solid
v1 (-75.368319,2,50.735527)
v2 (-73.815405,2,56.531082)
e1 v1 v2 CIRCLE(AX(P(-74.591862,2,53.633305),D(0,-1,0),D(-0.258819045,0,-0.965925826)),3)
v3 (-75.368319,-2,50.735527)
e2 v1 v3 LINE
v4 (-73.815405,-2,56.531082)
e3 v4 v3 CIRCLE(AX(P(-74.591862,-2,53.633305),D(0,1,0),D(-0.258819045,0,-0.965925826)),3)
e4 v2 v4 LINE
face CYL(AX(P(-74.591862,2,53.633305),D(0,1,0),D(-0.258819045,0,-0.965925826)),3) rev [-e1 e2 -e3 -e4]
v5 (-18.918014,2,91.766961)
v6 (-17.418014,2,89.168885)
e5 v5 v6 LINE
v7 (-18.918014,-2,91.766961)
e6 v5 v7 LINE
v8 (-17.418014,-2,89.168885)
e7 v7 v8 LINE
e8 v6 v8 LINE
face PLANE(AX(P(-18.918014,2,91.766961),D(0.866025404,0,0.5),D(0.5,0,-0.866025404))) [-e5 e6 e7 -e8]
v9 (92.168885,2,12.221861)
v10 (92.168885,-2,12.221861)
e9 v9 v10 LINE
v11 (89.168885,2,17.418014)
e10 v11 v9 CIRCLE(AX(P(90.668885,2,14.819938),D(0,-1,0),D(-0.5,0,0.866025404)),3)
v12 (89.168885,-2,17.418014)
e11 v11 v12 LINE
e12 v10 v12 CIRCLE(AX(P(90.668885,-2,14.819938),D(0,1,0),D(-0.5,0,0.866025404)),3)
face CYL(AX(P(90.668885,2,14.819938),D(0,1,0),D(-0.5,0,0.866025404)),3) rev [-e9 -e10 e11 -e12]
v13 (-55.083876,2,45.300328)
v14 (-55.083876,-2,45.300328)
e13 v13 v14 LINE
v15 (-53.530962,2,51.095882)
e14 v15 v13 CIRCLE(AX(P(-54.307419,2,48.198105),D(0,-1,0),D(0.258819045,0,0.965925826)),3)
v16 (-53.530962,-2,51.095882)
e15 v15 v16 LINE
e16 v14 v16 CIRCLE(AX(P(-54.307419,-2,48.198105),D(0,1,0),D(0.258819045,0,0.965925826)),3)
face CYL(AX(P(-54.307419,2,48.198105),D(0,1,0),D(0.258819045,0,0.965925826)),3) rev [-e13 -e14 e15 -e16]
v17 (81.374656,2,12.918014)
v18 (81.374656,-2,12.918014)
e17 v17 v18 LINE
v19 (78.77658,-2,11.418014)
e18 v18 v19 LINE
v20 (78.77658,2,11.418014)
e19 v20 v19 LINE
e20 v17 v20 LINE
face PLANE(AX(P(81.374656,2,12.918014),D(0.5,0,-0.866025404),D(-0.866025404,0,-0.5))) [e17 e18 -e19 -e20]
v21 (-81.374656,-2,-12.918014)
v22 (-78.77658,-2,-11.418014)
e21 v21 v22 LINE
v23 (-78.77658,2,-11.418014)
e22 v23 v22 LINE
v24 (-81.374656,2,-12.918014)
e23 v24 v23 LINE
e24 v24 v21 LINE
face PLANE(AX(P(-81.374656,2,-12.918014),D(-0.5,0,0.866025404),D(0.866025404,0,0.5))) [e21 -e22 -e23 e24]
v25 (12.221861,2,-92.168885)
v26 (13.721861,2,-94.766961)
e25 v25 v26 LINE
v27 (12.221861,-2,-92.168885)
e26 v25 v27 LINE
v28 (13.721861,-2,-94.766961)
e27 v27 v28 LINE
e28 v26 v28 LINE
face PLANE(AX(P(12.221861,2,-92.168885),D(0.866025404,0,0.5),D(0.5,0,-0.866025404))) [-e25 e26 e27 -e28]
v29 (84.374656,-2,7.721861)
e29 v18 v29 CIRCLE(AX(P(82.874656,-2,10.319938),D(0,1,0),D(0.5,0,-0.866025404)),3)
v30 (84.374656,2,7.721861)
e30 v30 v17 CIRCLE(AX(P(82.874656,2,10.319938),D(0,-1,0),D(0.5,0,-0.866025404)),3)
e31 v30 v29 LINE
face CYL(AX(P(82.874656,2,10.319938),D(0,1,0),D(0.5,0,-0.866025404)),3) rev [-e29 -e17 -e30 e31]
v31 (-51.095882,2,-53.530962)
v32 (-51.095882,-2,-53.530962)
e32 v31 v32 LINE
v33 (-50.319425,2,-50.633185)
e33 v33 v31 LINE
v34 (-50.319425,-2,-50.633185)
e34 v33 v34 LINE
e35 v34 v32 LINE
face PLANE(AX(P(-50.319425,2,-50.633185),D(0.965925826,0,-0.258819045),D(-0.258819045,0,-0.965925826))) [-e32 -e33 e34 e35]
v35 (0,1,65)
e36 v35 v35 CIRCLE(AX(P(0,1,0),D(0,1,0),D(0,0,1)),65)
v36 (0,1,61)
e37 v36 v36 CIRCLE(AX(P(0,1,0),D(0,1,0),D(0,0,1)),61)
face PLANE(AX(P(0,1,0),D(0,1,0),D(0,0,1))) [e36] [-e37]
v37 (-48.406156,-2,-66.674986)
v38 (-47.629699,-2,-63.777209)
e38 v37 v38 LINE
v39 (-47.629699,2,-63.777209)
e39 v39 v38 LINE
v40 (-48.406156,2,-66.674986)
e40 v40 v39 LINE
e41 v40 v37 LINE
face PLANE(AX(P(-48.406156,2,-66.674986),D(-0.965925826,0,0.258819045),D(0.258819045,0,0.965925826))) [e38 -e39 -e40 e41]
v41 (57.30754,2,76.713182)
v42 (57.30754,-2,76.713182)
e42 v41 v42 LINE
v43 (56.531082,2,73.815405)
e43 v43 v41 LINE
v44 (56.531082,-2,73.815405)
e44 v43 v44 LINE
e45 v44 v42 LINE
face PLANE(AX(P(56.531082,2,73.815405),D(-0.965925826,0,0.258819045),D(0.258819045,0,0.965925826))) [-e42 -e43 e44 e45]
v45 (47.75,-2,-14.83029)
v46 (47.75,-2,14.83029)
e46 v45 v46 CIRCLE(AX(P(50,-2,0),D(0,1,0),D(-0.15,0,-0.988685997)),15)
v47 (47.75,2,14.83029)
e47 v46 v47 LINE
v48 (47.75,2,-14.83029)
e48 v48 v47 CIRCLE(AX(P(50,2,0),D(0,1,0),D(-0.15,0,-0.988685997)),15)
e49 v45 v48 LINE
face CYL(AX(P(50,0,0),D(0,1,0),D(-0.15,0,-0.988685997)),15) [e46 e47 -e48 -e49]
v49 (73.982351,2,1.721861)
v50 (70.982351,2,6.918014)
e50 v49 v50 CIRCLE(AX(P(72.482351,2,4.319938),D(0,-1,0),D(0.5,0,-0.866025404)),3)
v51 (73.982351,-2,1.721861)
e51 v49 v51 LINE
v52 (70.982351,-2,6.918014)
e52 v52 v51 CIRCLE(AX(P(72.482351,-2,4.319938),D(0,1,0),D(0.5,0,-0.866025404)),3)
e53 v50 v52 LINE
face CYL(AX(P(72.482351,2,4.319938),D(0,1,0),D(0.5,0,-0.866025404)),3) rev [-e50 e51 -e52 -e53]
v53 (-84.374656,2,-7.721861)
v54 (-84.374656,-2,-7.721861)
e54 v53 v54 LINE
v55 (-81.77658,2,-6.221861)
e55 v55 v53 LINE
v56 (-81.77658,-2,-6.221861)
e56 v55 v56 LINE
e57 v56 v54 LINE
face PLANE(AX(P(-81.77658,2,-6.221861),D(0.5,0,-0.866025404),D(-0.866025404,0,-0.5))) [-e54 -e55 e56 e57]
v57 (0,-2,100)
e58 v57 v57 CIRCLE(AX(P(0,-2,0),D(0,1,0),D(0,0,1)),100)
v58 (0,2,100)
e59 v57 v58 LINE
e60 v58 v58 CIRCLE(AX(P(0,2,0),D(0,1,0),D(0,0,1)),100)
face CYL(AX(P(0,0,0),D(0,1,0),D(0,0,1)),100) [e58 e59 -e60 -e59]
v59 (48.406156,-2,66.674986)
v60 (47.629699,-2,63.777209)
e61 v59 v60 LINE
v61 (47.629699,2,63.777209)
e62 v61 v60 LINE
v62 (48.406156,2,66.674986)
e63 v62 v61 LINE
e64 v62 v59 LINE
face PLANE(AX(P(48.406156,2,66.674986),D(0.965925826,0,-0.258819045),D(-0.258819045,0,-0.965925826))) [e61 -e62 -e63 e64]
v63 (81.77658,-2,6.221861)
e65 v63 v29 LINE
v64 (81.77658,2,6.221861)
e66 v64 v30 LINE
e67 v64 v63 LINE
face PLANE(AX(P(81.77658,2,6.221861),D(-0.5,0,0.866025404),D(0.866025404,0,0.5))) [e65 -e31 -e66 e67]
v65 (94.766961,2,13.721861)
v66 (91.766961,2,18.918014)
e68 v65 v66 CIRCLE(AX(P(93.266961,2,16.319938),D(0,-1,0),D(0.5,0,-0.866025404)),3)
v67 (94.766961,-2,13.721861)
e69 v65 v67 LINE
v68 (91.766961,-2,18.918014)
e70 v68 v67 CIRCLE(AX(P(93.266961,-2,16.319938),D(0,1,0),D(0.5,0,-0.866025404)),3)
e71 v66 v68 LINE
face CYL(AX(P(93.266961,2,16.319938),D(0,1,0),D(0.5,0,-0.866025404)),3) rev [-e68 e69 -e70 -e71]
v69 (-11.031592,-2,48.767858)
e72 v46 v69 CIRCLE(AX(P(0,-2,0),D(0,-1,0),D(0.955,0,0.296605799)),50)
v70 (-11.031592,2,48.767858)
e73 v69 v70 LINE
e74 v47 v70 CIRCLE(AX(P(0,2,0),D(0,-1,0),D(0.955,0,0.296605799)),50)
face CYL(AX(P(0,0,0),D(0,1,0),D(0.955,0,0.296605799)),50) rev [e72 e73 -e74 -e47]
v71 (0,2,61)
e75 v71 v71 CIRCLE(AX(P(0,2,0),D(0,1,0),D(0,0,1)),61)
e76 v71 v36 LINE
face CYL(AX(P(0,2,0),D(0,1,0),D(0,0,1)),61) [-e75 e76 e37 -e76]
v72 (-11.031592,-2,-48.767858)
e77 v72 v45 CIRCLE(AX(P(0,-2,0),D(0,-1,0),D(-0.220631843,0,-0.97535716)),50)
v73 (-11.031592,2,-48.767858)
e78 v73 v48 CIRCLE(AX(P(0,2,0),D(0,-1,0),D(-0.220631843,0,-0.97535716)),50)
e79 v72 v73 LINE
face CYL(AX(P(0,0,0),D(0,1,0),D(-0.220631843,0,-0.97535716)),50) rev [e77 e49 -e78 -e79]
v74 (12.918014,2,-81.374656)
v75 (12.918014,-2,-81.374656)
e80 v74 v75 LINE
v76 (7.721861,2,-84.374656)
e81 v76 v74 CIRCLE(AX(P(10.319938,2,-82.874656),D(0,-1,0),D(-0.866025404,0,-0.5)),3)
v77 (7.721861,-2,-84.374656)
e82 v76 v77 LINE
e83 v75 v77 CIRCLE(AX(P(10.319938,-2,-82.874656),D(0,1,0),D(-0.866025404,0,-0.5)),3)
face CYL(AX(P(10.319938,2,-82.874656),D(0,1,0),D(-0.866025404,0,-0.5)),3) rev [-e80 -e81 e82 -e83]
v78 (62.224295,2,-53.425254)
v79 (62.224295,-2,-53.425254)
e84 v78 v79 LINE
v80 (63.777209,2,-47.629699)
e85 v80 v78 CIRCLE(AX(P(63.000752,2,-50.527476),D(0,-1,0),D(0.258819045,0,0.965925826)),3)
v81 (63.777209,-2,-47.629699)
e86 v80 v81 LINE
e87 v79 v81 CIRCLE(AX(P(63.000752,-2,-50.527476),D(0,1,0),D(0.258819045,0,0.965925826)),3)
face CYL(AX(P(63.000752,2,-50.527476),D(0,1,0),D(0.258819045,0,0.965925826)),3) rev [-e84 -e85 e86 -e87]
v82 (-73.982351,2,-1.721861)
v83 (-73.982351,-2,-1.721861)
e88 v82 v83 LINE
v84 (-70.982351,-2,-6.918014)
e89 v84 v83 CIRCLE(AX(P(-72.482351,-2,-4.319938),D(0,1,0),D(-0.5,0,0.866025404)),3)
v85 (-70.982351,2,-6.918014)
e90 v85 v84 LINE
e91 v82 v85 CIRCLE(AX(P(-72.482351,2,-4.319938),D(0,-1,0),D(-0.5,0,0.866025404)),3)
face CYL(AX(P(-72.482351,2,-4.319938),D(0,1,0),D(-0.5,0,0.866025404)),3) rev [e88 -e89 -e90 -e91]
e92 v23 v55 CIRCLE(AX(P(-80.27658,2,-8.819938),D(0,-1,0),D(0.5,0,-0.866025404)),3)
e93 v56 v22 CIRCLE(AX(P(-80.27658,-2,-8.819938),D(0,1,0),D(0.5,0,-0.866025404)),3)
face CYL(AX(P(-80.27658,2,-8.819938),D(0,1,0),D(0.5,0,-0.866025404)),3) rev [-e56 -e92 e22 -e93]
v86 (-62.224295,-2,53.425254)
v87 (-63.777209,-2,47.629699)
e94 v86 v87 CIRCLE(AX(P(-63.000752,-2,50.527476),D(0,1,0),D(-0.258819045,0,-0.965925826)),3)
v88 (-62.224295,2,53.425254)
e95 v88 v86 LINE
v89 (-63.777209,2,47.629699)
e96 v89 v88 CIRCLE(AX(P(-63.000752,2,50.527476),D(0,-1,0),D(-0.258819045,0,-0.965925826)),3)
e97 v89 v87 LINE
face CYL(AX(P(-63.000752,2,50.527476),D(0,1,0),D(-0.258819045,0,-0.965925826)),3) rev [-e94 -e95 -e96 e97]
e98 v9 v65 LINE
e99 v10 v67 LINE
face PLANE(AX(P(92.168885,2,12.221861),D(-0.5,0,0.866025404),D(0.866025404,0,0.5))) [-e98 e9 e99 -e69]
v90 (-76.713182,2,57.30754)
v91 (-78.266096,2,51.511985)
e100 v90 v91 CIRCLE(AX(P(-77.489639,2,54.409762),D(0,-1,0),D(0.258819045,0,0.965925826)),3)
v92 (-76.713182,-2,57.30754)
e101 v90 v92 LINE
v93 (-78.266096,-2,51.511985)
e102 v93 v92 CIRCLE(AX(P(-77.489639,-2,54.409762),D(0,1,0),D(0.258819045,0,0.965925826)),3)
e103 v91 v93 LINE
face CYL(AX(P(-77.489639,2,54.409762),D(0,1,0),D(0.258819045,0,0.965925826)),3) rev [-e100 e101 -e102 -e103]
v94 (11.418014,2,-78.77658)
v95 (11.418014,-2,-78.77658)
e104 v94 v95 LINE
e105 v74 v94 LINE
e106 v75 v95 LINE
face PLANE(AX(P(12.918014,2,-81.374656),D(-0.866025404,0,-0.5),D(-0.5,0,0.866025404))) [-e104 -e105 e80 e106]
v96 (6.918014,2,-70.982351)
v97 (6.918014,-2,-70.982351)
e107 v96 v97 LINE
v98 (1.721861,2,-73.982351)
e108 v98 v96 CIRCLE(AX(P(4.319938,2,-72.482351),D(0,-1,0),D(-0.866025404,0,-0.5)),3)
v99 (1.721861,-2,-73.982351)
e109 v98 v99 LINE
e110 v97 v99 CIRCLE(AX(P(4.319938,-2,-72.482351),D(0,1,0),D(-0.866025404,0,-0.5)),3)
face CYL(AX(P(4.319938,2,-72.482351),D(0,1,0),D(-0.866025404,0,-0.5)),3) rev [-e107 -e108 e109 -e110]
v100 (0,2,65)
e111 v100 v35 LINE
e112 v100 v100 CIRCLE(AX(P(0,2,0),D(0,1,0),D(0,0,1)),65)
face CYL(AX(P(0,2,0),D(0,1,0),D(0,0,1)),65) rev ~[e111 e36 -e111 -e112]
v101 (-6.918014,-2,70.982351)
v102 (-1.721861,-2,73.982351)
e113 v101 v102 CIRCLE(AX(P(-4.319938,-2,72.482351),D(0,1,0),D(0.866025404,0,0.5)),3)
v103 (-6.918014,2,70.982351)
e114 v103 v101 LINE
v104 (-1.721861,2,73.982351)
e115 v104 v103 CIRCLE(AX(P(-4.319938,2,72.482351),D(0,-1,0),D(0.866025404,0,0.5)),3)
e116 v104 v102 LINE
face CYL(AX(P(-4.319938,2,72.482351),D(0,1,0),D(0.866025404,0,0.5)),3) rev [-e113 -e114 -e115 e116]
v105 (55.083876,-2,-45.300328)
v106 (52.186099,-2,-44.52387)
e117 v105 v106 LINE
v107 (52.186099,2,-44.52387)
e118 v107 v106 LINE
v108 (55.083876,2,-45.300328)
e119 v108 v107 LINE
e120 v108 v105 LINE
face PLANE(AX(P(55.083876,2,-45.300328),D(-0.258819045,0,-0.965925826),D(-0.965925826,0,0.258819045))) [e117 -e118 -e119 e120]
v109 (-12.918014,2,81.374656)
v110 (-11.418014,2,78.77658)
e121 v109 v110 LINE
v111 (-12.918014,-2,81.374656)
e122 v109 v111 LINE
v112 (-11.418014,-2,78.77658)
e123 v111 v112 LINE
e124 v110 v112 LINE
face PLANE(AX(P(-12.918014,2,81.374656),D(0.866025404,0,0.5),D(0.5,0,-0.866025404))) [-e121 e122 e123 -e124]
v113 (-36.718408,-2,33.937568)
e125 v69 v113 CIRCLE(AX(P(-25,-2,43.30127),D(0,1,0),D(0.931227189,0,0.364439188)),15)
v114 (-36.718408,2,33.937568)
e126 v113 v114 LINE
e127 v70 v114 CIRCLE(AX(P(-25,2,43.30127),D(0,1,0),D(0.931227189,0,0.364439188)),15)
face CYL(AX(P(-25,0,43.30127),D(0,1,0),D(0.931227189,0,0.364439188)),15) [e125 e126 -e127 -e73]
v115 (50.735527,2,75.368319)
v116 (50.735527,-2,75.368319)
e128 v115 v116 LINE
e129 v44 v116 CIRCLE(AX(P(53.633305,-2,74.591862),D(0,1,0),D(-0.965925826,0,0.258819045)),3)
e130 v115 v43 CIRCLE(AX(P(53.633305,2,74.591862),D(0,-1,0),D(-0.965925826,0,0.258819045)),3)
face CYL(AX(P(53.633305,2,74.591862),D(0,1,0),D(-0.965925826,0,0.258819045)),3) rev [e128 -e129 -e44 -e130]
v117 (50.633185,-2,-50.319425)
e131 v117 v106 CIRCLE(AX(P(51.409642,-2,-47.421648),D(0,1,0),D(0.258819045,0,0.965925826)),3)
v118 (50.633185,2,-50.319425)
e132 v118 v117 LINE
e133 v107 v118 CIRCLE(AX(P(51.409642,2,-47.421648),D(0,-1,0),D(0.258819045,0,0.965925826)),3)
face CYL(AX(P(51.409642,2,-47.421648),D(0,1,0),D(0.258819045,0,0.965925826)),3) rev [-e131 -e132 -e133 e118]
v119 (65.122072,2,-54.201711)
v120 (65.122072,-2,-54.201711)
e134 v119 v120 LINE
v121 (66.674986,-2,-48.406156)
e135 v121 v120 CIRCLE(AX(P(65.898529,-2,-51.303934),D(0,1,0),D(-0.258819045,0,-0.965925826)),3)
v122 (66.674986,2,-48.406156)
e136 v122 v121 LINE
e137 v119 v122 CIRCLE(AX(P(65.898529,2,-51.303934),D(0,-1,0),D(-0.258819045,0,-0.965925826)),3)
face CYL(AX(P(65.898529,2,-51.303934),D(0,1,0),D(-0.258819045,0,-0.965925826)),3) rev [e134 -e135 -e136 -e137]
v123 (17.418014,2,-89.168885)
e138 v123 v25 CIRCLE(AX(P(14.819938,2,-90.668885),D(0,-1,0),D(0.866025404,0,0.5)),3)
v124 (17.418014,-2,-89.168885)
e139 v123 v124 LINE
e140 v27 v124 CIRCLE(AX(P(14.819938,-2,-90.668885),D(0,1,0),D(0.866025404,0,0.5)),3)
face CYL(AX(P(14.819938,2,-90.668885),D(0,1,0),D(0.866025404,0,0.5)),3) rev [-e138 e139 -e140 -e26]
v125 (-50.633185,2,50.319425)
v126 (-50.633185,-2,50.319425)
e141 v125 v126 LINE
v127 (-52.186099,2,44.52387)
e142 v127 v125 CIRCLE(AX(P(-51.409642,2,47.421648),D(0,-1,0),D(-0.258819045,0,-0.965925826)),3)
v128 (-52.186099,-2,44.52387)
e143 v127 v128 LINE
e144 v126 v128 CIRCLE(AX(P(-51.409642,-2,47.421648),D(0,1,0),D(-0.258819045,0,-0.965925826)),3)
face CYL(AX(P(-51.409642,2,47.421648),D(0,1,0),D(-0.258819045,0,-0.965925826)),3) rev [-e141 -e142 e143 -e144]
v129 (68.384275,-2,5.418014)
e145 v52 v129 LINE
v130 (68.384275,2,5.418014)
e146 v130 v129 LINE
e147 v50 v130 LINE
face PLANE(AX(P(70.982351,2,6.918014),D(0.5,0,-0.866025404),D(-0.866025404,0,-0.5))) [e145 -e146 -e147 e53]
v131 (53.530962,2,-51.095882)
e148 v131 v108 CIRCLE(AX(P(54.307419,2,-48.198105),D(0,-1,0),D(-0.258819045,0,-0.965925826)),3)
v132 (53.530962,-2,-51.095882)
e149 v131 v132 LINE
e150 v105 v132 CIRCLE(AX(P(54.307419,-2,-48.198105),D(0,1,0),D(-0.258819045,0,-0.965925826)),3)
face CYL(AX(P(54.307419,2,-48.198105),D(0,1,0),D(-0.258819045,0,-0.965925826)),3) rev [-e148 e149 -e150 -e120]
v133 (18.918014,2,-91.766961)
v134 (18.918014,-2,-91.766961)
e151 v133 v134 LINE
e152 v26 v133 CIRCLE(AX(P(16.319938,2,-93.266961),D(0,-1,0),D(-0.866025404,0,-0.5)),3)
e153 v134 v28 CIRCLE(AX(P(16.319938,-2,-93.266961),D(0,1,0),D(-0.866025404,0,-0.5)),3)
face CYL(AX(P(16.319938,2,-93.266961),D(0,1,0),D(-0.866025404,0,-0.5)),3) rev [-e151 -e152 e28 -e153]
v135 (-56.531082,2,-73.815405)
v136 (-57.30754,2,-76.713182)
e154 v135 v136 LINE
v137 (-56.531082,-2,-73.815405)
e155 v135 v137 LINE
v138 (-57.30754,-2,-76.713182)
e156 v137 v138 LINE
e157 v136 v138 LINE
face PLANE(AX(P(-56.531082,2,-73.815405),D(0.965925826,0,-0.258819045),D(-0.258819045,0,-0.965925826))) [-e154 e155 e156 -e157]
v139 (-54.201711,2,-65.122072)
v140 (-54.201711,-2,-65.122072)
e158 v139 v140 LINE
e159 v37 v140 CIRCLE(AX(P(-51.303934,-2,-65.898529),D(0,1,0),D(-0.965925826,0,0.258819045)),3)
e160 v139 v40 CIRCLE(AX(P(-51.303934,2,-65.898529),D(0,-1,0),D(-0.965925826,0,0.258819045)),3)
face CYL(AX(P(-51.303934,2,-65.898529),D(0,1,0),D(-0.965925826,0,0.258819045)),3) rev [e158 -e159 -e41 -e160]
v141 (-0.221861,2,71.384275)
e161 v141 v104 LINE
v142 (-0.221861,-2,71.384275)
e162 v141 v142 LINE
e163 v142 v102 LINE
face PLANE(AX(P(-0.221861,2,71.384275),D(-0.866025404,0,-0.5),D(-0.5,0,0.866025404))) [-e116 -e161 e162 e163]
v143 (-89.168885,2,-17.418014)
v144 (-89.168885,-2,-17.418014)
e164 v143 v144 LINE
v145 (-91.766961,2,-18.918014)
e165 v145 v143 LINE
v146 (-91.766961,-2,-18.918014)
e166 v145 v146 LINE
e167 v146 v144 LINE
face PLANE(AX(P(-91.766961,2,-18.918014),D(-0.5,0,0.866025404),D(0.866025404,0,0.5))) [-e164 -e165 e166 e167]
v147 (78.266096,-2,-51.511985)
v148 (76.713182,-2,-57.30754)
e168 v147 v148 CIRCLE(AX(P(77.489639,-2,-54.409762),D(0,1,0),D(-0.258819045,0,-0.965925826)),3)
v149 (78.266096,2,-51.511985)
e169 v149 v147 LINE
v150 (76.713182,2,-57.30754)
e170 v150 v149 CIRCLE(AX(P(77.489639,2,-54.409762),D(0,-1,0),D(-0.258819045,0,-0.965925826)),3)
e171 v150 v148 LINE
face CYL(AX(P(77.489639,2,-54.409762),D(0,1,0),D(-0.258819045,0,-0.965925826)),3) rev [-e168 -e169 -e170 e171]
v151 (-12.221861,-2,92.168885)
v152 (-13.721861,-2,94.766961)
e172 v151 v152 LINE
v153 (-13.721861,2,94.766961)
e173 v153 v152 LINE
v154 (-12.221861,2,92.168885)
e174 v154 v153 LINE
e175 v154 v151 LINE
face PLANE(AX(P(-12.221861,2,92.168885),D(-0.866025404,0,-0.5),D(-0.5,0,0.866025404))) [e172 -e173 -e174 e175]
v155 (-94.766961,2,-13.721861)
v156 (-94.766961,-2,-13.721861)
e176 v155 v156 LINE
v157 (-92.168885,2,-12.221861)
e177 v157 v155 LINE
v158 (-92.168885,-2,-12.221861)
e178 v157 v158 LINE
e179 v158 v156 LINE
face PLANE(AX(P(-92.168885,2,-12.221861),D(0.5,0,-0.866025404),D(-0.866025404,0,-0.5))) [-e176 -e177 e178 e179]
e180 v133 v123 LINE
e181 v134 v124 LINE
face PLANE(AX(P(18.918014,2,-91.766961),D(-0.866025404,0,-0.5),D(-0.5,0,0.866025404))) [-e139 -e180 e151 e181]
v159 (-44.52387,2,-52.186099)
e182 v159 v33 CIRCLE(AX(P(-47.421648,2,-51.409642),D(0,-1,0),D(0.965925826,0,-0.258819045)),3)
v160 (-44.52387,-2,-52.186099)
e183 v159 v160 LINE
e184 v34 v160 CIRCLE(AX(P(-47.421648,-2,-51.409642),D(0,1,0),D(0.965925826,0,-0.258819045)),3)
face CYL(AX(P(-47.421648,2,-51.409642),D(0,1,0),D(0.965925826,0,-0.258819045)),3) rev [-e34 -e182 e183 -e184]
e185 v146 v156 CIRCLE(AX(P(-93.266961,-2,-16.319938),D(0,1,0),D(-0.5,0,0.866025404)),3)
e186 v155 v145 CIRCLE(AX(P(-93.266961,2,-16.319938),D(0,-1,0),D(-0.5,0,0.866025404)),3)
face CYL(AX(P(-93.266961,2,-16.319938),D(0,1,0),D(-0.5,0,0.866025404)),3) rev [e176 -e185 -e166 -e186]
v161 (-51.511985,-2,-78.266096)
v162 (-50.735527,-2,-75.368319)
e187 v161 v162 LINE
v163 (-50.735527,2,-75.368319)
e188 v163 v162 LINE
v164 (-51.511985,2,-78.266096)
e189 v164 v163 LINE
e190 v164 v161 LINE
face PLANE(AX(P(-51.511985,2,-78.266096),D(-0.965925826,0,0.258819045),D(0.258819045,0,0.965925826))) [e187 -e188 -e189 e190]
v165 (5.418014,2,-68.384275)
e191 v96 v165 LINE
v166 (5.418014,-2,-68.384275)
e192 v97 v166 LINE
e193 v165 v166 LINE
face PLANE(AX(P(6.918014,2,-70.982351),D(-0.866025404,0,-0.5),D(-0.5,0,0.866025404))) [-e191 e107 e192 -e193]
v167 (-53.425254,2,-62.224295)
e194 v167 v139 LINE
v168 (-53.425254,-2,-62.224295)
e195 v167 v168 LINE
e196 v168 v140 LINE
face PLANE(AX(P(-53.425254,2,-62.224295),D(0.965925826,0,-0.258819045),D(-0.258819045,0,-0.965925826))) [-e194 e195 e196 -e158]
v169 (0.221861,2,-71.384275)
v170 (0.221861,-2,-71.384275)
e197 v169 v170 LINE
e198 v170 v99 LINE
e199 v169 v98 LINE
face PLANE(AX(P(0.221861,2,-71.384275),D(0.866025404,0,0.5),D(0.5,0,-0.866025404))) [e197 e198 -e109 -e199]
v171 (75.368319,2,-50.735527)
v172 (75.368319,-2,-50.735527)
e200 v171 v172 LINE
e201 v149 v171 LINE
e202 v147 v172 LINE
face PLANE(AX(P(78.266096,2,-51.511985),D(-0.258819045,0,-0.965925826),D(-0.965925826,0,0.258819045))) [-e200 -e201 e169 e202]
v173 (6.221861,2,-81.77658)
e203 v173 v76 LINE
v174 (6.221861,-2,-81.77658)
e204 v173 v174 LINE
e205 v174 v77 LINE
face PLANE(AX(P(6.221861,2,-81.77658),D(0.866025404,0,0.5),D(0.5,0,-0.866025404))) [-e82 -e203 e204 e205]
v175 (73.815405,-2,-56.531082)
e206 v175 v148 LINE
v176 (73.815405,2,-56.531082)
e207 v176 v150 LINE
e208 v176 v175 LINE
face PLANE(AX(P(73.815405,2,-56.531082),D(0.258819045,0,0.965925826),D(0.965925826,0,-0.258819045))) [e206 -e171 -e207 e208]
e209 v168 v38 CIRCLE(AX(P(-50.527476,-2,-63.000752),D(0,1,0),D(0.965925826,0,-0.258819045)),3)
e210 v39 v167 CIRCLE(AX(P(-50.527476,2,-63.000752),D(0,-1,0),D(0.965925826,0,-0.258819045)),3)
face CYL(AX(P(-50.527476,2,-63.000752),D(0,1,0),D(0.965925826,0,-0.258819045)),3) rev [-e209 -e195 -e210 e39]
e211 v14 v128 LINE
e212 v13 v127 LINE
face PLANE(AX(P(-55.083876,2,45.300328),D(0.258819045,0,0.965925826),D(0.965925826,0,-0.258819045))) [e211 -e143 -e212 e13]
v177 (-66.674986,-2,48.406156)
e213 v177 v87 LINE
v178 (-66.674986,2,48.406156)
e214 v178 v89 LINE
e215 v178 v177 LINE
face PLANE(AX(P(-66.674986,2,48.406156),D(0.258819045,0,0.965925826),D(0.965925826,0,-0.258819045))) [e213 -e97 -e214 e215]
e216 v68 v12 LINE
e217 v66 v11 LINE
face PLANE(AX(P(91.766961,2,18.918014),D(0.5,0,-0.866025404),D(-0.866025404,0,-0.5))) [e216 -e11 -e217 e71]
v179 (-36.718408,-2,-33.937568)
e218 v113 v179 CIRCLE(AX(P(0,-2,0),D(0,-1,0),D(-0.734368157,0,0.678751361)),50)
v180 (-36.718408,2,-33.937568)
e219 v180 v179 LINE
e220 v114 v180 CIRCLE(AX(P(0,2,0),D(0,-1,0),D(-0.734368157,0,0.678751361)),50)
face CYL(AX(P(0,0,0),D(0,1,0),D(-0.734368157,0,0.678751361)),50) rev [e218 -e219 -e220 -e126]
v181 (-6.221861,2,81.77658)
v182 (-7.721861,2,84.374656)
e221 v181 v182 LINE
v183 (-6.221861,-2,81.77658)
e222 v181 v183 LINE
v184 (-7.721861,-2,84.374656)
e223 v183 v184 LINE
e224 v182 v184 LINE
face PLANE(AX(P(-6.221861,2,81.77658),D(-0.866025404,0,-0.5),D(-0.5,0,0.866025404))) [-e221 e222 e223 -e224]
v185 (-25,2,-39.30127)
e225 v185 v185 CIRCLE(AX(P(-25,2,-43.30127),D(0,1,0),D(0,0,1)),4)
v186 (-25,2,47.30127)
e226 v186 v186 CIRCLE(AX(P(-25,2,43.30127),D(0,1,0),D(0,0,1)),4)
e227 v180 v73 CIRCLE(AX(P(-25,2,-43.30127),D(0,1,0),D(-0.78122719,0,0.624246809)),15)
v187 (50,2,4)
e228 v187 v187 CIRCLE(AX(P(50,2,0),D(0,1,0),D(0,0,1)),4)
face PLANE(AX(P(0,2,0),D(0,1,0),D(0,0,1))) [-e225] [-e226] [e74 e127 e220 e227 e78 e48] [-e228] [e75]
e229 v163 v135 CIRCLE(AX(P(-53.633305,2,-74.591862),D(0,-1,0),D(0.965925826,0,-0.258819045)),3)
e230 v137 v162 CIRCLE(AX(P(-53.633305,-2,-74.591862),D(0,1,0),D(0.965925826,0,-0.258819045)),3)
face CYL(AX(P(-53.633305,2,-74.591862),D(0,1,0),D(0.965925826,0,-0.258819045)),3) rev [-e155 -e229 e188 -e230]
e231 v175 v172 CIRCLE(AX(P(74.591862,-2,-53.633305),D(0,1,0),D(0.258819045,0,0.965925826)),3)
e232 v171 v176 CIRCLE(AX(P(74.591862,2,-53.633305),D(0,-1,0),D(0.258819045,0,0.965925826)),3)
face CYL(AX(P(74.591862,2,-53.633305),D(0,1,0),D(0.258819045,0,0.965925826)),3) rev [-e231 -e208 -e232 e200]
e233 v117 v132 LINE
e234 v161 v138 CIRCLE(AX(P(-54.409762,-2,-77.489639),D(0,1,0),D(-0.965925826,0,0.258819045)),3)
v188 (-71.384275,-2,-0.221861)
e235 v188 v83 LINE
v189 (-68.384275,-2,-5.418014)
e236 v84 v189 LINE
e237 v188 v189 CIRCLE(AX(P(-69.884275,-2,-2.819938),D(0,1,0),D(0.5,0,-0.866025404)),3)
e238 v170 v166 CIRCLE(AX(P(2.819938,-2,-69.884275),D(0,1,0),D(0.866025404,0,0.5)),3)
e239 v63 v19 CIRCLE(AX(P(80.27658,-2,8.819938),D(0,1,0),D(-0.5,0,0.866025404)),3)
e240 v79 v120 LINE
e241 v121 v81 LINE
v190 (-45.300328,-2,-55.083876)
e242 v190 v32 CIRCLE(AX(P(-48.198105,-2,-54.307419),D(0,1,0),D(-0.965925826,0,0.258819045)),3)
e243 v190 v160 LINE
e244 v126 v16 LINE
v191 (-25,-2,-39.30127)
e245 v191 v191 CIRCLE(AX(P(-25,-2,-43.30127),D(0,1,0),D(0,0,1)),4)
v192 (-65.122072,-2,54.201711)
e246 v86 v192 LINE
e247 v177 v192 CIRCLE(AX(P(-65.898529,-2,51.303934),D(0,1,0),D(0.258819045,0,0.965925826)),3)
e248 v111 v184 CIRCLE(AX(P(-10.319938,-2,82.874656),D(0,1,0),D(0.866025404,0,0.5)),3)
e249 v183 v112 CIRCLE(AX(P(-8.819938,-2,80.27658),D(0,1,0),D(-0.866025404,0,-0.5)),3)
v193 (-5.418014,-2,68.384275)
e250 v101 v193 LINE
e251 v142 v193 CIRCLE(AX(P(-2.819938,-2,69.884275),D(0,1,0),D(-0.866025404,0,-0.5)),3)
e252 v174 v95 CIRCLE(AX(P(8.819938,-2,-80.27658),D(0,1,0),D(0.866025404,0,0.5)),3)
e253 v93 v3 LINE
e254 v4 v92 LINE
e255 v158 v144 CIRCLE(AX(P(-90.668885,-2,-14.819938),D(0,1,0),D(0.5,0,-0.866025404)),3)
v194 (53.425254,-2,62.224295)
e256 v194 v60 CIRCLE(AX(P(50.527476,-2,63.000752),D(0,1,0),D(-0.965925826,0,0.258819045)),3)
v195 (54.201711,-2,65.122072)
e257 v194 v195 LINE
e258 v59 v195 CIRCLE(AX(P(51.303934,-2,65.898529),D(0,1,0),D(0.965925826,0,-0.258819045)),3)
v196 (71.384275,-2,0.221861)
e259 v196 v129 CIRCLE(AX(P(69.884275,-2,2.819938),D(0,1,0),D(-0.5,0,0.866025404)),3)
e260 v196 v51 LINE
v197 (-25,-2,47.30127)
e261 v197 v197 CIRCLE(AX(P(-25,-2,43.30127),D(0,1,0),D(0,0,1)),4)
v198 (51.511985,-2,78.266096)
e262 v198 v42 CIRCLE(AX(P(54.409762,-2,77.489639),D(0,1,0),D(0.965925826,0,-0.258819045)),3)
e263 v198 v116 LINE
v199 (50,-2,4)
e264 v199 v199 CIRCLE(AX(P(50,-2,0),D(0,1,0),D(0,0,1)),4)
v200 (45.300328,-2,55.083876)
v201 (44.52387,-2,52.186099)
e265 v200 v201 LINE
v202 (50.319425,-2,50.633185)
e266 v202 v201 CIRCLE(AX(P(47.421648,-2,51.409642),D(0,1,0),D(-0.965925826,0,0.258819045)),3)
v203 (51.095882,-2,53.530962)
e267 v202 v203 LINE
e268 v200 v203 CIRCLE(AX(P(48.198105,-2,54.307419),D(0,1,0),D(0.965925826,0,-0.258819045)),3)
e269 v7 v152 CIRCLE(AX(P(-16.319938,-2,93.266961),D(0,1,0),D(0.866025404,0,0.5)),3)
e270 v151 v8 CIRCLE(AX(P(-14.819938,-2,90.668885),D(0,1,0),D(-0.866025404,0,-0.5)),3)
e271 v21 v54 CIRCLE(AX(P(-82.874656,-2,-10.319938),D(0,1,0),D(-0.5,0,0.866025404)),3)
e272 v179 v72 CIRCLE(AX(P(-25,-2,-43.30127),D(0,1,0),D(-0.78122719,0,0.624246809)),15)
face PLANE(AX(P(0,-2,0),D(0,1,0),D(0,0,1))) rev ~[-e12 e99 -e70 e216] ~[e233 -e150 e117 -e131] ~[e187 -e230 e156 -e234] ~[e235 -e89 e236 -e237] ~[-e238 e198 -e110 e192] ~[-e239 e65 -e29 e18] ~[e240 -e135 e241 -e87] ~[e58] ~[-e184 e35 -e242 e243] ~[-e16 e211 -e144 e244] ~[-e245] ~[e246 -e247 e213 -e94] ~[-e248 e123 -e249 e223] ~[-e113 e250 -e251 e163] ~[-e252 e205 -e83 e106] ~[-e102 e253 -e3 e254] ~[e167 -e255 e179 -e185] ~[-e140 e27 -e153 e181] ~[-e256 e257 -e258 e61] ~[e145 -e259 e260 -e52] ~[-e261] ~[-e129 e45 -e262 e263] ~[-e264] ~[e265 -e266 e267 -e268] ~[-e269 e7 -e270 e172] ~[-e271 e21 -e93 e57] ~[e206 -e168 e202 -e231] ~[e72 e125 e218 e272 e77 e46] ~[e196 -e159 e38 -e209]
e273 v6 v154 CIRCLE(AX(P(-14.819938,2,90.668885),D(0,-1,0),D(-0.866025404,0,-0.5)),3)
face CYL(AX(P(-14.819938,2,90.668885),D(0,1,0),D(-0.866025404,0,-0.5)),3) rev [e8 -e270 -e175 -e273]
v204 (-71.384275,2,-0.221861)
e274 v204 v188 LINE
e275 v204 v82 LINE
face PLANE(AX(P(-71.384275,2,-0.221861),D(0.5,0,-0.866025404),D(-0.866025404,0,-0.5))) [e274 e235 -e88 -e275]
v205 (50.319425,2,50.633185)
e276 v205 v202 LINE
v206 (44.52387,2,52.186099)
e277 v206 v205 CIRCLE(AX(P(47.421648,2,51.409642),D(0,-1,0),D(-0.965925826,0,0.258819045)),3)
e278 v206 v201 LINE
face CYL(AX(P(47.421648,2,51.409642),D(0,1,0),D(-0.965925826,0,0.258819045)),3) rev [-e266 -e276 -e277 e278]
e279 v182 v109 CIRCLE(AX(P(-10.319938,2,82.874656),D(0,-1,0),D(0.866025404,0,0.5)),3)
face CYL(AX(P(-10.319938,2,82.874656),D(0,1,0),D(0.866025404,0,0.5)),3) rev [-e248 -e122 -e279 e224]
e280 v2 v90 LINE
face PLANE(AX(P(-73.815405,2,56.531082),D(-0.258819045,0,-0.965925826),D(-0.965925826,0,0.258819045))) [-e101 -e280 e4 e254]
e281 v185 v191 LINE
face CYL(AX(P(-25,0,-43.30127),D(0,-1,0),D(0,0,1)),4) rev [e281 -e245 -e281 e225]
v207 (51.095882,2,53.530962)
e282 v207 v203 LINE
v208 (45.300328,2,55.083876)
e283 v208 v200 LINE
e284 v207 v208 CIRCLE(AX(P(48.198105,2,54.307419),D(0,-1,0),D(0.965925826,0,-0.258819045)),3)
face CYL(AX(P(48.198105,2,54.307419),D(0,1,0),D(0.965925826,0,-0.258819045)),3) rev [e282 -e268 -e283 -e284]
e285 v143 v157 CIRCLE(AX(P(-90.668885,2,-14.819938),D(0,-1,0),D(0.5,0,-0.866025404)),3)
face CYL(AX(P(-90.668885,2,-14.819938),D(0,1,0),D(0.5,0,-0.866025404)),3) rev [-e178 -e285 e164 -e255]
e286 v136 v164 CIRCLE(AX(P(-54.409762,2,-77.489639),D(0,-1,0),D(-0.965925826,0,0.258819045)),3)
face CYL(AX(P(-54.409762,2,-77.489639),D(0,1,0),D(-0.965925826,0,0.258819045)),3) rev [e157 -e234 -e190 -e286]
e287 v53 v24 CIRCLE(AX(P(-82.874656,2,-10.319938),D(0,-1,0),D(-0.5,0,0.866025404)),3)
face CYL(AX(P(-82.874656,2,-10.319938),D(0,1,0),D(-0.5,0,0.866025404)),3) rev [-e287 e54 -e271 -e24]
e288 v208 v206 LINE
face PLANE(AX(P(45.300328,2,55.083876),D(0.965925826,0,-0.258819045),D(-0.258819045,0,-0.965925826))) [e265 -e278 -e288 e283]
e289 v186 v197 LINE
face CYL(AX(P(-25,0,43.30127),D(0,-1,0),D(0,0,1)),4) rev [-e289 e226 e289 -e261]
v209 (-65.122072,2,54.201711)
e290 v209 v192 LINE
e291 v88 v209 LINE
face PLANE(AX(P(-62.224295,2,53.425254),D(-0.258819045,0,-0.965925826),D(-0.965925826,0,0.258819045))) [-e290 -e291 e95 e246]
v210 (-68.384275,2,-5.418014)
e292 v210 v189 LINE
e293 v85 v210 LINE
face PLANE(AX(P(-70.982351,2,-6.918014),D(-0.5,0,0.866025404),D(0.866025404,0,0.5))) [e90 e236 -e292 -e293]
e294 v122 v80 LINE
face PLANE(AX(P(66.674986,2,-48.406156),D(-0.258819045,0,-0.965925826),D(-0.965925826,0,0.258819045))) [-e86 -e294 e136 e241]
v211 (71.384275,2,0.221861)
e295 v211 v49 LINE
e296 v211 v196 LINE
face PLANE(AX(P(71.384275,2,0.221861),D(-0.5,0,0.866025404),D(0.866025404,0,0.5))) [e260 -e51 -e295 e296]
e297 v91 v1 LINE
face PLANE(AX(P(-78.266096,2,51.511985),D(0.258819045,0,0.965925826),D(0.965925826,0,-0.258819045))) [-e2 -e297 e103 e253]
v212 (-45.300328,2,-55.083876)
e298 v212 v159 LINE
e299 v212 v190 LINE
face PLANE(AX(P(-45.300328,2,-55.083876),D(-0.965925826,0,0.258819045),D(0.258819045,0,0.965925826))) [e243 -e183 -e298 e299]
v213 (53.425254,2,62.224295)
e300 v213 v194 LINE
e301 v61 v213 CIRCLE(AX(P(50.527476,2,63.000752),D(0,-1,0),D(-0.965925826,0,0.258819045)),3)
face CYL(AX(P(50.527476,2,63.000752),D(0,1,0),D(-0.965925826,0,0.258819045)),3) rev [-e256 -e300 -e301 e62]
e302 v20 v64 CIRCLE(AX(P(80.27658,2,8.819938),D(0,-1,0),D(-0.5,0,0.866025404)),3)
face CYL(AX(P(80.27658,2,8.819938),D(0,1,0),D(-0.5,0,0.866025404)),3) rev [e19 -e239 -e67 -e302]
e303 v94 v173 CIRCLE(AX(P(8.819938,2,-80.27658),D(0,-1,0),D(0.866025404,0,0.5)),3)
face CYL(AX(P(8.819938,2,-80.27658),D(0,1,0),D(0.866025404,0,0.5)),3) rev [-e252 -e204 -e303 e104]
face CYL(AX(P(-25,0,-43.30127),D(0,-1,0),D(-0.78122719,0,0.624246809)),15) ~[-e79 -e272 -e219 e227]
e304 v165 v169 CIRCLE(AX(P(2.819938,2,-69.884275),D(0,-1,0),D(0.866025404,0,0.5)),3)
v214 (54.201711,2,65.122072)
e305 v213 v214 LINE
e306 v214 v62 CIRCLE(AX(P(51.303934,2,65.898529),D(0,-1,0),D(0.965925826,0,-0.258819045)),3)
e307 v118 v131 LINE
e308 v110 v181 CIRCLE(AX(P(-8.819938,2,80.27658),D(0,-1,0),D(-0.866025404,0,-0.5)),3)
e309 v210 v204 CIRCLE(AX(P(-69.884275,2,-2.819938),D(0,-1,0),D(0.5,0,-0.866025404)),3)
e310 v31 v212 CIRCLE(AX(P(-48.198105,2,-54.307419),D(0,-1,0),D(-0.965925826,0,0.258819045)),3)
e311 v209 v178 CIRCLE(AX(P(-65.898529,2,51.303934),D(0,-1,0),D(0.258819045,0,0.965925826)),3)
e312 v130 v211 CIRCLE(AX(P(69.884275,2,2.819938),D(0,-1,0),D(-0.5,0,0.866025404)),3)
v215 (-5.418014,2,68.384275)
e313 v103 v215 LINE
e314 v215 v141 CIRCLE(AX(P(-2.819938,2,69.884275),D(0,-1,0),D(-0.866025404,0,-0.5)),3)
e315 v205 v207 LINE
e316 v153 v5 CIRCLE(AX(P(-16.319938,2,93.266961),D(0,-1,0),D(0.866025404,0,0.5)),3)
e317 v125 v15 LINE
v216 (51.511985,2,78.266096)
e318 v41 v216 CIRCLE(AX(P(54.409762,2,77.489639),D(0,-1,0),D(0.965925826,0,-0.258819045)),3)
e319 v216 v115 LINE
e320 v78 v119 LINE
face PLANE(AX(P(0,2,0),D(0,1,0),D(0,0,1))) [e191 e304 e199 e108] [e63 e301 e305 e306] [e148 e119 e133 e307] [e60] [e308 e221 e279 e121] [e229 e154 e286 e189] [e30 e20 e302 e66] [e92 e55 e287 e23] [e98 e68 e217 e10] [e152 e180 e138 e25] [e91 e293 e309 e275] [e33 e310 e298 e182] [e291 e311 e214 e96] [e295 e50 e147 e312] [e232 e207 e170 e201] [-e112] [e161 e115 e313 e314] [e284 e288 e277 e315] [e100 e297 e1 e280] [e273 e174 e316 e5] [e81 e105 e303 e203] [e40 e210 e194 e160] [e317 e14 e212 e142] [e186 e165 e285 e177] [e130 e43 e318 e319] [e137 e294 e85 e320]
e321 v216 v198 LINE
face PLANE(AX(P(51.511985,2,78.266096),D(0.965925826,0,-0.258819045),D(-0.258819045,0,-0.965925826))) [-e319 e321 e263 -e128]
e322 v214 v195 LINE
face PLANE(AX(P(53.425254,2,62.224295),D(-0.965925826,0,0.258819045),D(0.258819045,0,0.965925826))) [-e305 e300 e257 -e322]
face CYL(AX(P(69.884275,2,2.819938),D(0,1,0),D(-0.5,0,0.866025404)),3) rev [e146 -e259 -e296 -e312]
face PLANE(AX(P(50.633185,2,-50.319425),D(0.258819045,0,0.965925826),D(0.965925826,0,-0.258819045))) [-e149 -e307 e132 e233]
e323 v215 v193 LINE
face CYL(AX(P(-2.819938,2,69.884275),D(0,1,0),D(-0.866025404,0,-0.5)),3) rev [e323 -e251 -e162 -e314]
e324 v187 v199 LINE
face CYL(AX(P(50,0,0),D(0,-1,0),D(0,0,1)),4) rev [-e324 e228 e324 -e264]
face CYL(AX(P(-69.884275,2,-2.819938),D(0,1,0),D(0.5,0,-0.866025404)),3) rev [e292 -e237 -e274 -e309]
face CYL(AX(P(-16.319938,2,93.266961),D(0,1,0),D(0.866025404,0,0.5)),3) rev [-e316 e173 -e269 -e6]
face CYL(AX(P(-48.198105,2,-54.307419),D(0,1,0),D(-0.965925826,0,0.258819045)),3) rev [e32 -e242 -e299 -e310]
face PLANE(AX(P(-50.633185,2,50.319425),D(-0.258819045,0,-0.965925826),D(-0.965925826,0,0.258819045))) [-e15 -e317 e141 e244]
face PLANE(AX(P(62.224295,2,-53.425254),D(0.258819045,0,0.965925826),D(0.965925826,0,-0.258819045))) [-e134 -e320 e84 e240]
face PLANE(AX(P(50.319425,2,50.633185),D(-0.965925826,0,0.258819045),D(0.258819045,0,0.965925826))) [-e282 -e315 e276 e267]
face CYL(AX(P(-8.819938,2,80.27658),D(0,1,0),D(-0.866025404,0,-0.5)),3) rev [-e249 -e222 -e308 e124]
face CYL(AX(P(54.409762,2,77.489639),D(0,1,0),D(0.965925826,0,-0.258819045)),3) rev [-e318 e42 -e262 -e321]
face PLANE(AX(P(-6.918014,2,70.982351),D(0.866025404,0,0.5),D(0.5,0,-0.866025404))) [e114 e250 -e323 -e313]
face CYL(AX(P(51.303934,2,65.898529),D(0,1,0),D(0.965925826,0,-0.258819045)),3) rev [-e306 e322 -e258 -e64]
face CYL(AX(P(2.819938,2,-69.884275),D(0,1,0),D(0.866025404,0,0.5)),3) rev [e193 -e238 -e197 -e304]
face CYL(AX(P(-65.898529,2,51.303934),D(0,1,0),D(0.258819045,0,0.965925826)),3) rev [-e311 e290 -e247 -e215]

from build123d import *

# Parameters (mm, degrees)
SKETCH2_R           = 100
SKETCH2_R_2         = 4
BOSS_EXTRUDE1_DEPTH = 2
SKETCH3_R           = 65
SKETCH3_R_2         = 61
CUT_EXTRUDE2_DEPTH  = 1
CUT_EXTRUDE3_DEPTH  = 10


with BuildPart() as part:
    # Sketch2 → Boss-Extrude1 (new, symmetric)
    with BuildSketch(Plane(origin=(0, 0, 0), x_dir=(1, 0, 0), z_dir=(0, 1, 0))):
        Circle(SKETCH2_R)
        with Locations((50, 0)):
            Circle(SKETCH2_R_2, mode=Mode.SUBTRACT)
        with Locations((-25, -43.301270189)):
            Circle(SKETCH2_R_2, mode=Mode.SUBTRACT)
        with Locations((-25, 43.301270189)):
            Circle(SKETCH2_R_2, mode=Mode.SUBTRACT)
        with BuildLine():
            ThreePointArc((-36.718407842, 33.937568056), (-17.5, 30.310889132), (-11.031592158, 48.767858006))
            ThreePointArc((-11.031592158, 48.767858006), (25, 43.301270189), (47.75, 14.83028995))
            ThreePointArc((47.75, 14.83028995), (35, 0), (47.75, -14.83028995))
            ThreePointArc((47.75, -14.83028995), (25, -43.301270189), (-11.031592158, -48.767858006))
            ThreePointArc((-11.031592158, -48.767858006), (-17.5, -30.310889132), (-36.718407842, -33.937568056))
            ThreePointArc((-36.718407842, -33.937568056), (-50, 0), (-36.718407842, 33.937568056))
        make_face(mode=Mode.SUBTRACT)
    extrude(amount=BOSS_EXTRUDE1_DEPTH, both=True)

    # Sketch3 → Cut-Extrude2 (cut)
    with BuildSketch(Plane(origin=(0, 2, 0), x_dir=(1, 0, 0), z_dir=(0, 1, 0))):
        Circle(SKETCH3_R)
        Circle(SKETCH3_R_2, mode=Mode.SUBTRACT)
    extrude(amount=-CUT_EXTRUDE2_DEPTH, mode=Mode.SUBTRACT)

    # Sketch4 → Cut-Extrude3 (cut)
    with BuildSketch(Plane(origin=(0, 2, 0), x_dir=(1, 0, 0), z_dir=(0, 1, 0))):
        with BuildLine():
            Line((6.221861376, 81.776580022), (7.721861376, 84.374656233))
            ThreePointArc((7.721861376, 84.374656233), (11.819937588, 85.472732444), (12.918013799, 81.374656233))
            Line((12.918013799, 81.374656233), (11.418013799, 78.776580022))
            ThreePointArc((11.418013799, 78.776580022), (7.319937588, 77.67850381), (6.221861376, 81.776580022))
        make_face()
        with BuildLine():
            Line((0.221861376, 71.384275176), (1.721861376, 73.982351387))
            ThreePointArc((1.721861376, 73.982351387), (5.819937588, 75.080427599), (6.918013799, 70.982351387))
            Line((6.918013799, 70.982351387), (5.418013799, 68.384275176))
            ThreePointArc((5.418013799, 68.384275176), (1.319937588, 67.286198965), (0.221861376, 71.384275176))
        make_face()
        with BuildLine():
            Line((18.918013799, 91.766961078), (17.418013799, 89.168884867))
            ThreePointArc((17.418013799, 89.168884867), (13.319937588, 88.070808656), (12.221861376, 92.168884867))
            Line((12.221861376, 92.168884867), (13.721861376, 94.766961078))
            ThreePointArc((13.721861376, 94.766961078), (17.819937588, 95.86503729), (18.918013799, 91.766961078))
        make_face()
        with BuildLine():
            Line((-53.425253905, 62.224294646), (-54.20171104, 65.122072125))
            ThreePointArc((-54.20171104, 65.122072125), (-52.080390696, 68.796306739), (-48.406156082, 66.674986396))
            Line((-48.406156082, 66.674986396), (-47.629698947, 63.777208917))
            ThreePointArc((-47.629698947, 63.777208917), (-49.75101929, 60.102974303), (-53.425253905, 62.224294646))
        make_face()
        with BuildLine():
            Line((-50.319425363, 50.633184731), (-51.095882499, 53.53096221))
            ThreePointArc((-51.095882499, 53.53096221), (-48.974562155, 57.205196824), (-45.300327541, 55.08387648))
            Line((-45.300327541, 55.08387648), (-44.523870406, 52.186099001))
            ThreePointArc((-44.523870406, 52.186099001), (-46.645190749, 48.511864387), (-50.319425363, 50.633184731))
        make_face()
        with BuildLine():
            Line((-51.511984623, 78.266096311), (-50.735527488, 75.368318832))
            ThreePointArc((-50.735527488, 75.368318832), (-52.856847832, 71.694084218), (-56.531082446, 73.815404562))
            Line((-56.531082446, 73.815404562), (-57.307539581, 76.713182041))
            ThreePointArc((-57.307539581, 76.713182041), (-55.186219238, 80.387416655), (-51.511984623, 78.266096311))
        make_face()
        with BuildLine():
            Line((-81.776580022, 6.221861376), (-84.374656233, 7.721861376))
            ThreePointArc((-84.374656233, 7.721861376), (-85.472732444, 11.819937588), (-81.374656233, 12.918013799))
            Line((-81.374656233, 12.918013799), (-78.776580022, 11.418013799))
            ThreePointArc((-78.776580022, 11.418013799), (-77.67850381, 7.319937588), (-81.776580022, 6.221861376))
        make_face()
        with BuildLine():
            Line((-71.384275176, 0.221861376), (-73.982351387, 1.721861376))
            ThreePointArc((-73.982351387, 1.721861376), (-75.080427599, 5.819937588), (-70.982351387, 6.918013799))
            Line((-70.982351387, 6.918013799), (-68.384275176, 5.418013799))
            ThreePointArc((-68.384275176, 5.418013799), (-67.286198965, 1.319937588), (-71.384275176, 0.221861376))
        make_face()
        with BuildLine():
            Line((-91.766961078, 18.918013799), (-89.168884867, 17.418013799))
            ThreePointArc((-89.168884867, 17.418013799), (-88.070808656, 13.319937588), (-92.168884867, 12.221861376))
            Line((-92.168884867, 12.221861376), (-94.766961078, 13.721861376))
            ThreePointArc((-94.766961078, 13.721861376), (-95.86503729, 17.819937588), (-91.766961078, 18.918013799))
        make_face()
        with BuildLine():
            Line((-62.224294646, -53.425253905), (-65.122072125, -54.20171104))
            ThreePointArc((-65.122072125, -54.20171104), (-68.796306739, -52.080390696), (-66.674986396, -48.406156082))
            Line((-66.674986396, -48.406156082), (-63.777208917, -47.629698947))
            ThreePointArc((-63.777208917, -47.629698947), (-60.102974303, -49.75101929), (-62.224294646, -53.425253905))
        make_face()
        with BuildLine():
            Line((-50.633184731, -50.319425363), (-53.53096221, -51.095882499))
            ThreePointArc((-53.53096221, -51.095882499), (-57.205196824, -48.974562155), (-55.08387648, -45.300327541))
            Line((-55.08387648, -45.300327541), (-52.186099001, -44.523870406))
            ThreePointArc((-52.186099001, -44.523870406), (-48.511864387, -46.645190749), (-50.633184731, -50.319425363))
        make_face()
        with BuildLine():
            Line((-78.266096311, -51.511984623), (-75.368318832, -50.735527488))
            ThreePointArc((-75.368318832, -50.735527488), (-71.694084218, -52.856847832), (-73.815404562, -56.531082446))
            Line((-73.815404562, -56.531082446), (-76.713182041, -57.307539581))
            ThreePointArc((-76.713182041, -57.307539581), (-80.387416655, -55.186219238), (-78.266096311, -51.511984623))
        make_face()
        with BuildLine():
            Line((-6.221861376, -81.776580022), (-7.721861376, -84.374656233))
            ThreePointArc((-7.721861376, -84.374656233), (-11.819937588, -85.472732444), (-12.918013799, -81.374656233))
            Line((-12.918013799, -81.374656233), (-11.418013799, -78.776580022))
            ThreePointArc((-11.418013799, -78.776580022), (-7.319937588, -77.67850381), (-6.221861376, -81.776580022))
        make_face()
        with BuildLine():
            Line((-0.221861376, -71.384275176), (-1.721861376, -73.982351387))
            ThreePointArc((-1.721861376, -73.982351387), (-5.819937588, -75.080427599), (-6.918013799, -70.982351387))
            Line((-6.918013799, -70.982351387), (-5.418013799, -68.384275176))
            ThreePointArc((-5.418013799, -68.384275176), (-1.319937588, -67.286198965), (-0.221861376, -71.384275176))
        make_face()
        with BuildLine():
            Line((-18.918013799, -91.766961078), (-17.418013799, -89.168884867))
            ThreePointArc((-17.418013799, -89.168884867), (-13.319937588, -88.070808656), (-12.221861376, -92.168884867))
            Line((-12.221861376, -92.168884867), (-13.721861376, -94.766961078))
            ThreePointArc((-13.721861376, -94.766961078), (-17.819937588, -95.86503729), (-18.918013799, -91.766961078))
        make_face()
        with BuildLine():
            Line((53.425253905, -62.224294646), (54.20171104, -65.122072125))
            ThreePointArc((54.20171104, -65.122072125), (52.080390696, -68.796306739), (48.406156082, -66.674986396))
            Line((48.406156082, -66.674986396), (47.629698947, -63.777208917))
            ThreePointArc((47.629698947, -63.777208917), (49.75101929, -60.102974303), (53.425253905, -62.224294646))
        make_face()
        with BuildLine():
            Line((50.319425363, -50.633184731), (51.095882499, -53.53096221))
            ThreePointArc((51.095882499, -53.53096221), (48.974562155, -57.205196824), (45.300327541, -55.08387648))
            Line((45.300327541, -55.08387648), (44.523870406, -52.186099001))
            ThreePointArc((44.523870406, -52.186099001), (46.645190749, -48.511864387), (50.319425363, -50.633184731))
        make_face()
        with BuildLine():
            Line((51.511984623, -78.266096311), (50.735527488, -75.368318832))
            ThreePointArc((50.735527488, -75.368318832), (52.856847832, -71.694084218), (56.531082446, -73.815404562))
            Line((56.531082446, -73.815404562), (57.307539581, -76.713182041))
            ThreePointArc((57.307539581, -76.713182041), (55.186219238, -80.387416655), (51.511984623, -78.266096311))
        make_face()
        with BuildLine():
            Line((81.776580022, -6.221861376), (84.374656233, -7.721861376))
            ThreePointArc((84.374656233, -7.721861376), (85.472732444, -11.819937588), (81.374656233, -12.918013799))
            Line((81.374656233, -12.918013799), (78.776580022, -11.418013799))
            ThreePointArc((78.776580022, -11.418013799), (77.67850381, -7.319937588), (81.776580022, -6.221861376))
        make_face()
        with BuildLine():
            Line((71.384275176, -0.221861376), (73.982351387, -1.721861376))
            ThreePointArc((73.982351387, -1.721861376), (75.080427599, -5.819937588), (70.982351387, -6.918013799))
            Line((70.982351387, -6.918013799), (68.384275176, -5.418013799))
            ThreePointArc((68.384275176, -5.418013799), (67.286198965, -1.319937588), (71.384275176, -0.221861376))
        make_face()
        with BuildLine():
            Line((91.766961078, -18.918013799), (89.168884867, -17.418013799))
            ThreePointArc((89.168884867, -17.418013799), (88.070808656, -13.319937588), (92.168884867, -12.221861376))
            Line((92.168884867, -12.221861376), (94.766961078, -13.721861376))
            ThreePointArc((94.766961078, -13.721861376), (95.86503729, -17.819937588), (91.766961078, -18.918013799))
        make_face()
        with BuildLine():
            Line((62.224294646, 53.425253905), (65.122072125, 54.20171104))
            ThreePointArc((65.122072125, 54.20171104), (68.796306739, 52.080390696), (66.674986396, 48.406156082))
            Line((66.674986396, 48.406156082), (63.777208917, 47.629698947))
            ThreePointArc((63.777208917, 47.629698947), (60.102974303, 49.75101929), (62.224294646, 53.425253905))
        make_face()
        with BuildLine():
            Line((50.633184731, 50.319425363), (53.53096221, 51.095882499))
            ThreePointArc((53.53096221, 51.095882499), (57.205196824, 48.974562155), (55.08387648, 45.300327541))
            Line((55.08387648, 45.300327541), (52.186099001, 44.523870406))
            ThreePointArc((52.186099001, 44.523870406), (48.511864387, 46.645190749), (50.633184731, 50.319425363))
        make_face()
        with BuildLine():
            Line((78.266096311, 51.511984623), (75.368318832, 50.735527488))
            ThreePointArc((75.368318832, 50.735527488), (71.694084218, 52.856847832), (73.815404562, 56.531082446))
            Line((73.815404562, 56.531082446), (76.713182041, 57.307539581))
            ThreePointArc((76.713182041, 57.307539581), (80.387416655, 55.186219238), (78.266096311, 51.511984623))
        make_face()
    extrude(amount=-CUT_EXTRUDE3_DEPTH, mode=Mode.SUBTRACT)


solid = part.part
